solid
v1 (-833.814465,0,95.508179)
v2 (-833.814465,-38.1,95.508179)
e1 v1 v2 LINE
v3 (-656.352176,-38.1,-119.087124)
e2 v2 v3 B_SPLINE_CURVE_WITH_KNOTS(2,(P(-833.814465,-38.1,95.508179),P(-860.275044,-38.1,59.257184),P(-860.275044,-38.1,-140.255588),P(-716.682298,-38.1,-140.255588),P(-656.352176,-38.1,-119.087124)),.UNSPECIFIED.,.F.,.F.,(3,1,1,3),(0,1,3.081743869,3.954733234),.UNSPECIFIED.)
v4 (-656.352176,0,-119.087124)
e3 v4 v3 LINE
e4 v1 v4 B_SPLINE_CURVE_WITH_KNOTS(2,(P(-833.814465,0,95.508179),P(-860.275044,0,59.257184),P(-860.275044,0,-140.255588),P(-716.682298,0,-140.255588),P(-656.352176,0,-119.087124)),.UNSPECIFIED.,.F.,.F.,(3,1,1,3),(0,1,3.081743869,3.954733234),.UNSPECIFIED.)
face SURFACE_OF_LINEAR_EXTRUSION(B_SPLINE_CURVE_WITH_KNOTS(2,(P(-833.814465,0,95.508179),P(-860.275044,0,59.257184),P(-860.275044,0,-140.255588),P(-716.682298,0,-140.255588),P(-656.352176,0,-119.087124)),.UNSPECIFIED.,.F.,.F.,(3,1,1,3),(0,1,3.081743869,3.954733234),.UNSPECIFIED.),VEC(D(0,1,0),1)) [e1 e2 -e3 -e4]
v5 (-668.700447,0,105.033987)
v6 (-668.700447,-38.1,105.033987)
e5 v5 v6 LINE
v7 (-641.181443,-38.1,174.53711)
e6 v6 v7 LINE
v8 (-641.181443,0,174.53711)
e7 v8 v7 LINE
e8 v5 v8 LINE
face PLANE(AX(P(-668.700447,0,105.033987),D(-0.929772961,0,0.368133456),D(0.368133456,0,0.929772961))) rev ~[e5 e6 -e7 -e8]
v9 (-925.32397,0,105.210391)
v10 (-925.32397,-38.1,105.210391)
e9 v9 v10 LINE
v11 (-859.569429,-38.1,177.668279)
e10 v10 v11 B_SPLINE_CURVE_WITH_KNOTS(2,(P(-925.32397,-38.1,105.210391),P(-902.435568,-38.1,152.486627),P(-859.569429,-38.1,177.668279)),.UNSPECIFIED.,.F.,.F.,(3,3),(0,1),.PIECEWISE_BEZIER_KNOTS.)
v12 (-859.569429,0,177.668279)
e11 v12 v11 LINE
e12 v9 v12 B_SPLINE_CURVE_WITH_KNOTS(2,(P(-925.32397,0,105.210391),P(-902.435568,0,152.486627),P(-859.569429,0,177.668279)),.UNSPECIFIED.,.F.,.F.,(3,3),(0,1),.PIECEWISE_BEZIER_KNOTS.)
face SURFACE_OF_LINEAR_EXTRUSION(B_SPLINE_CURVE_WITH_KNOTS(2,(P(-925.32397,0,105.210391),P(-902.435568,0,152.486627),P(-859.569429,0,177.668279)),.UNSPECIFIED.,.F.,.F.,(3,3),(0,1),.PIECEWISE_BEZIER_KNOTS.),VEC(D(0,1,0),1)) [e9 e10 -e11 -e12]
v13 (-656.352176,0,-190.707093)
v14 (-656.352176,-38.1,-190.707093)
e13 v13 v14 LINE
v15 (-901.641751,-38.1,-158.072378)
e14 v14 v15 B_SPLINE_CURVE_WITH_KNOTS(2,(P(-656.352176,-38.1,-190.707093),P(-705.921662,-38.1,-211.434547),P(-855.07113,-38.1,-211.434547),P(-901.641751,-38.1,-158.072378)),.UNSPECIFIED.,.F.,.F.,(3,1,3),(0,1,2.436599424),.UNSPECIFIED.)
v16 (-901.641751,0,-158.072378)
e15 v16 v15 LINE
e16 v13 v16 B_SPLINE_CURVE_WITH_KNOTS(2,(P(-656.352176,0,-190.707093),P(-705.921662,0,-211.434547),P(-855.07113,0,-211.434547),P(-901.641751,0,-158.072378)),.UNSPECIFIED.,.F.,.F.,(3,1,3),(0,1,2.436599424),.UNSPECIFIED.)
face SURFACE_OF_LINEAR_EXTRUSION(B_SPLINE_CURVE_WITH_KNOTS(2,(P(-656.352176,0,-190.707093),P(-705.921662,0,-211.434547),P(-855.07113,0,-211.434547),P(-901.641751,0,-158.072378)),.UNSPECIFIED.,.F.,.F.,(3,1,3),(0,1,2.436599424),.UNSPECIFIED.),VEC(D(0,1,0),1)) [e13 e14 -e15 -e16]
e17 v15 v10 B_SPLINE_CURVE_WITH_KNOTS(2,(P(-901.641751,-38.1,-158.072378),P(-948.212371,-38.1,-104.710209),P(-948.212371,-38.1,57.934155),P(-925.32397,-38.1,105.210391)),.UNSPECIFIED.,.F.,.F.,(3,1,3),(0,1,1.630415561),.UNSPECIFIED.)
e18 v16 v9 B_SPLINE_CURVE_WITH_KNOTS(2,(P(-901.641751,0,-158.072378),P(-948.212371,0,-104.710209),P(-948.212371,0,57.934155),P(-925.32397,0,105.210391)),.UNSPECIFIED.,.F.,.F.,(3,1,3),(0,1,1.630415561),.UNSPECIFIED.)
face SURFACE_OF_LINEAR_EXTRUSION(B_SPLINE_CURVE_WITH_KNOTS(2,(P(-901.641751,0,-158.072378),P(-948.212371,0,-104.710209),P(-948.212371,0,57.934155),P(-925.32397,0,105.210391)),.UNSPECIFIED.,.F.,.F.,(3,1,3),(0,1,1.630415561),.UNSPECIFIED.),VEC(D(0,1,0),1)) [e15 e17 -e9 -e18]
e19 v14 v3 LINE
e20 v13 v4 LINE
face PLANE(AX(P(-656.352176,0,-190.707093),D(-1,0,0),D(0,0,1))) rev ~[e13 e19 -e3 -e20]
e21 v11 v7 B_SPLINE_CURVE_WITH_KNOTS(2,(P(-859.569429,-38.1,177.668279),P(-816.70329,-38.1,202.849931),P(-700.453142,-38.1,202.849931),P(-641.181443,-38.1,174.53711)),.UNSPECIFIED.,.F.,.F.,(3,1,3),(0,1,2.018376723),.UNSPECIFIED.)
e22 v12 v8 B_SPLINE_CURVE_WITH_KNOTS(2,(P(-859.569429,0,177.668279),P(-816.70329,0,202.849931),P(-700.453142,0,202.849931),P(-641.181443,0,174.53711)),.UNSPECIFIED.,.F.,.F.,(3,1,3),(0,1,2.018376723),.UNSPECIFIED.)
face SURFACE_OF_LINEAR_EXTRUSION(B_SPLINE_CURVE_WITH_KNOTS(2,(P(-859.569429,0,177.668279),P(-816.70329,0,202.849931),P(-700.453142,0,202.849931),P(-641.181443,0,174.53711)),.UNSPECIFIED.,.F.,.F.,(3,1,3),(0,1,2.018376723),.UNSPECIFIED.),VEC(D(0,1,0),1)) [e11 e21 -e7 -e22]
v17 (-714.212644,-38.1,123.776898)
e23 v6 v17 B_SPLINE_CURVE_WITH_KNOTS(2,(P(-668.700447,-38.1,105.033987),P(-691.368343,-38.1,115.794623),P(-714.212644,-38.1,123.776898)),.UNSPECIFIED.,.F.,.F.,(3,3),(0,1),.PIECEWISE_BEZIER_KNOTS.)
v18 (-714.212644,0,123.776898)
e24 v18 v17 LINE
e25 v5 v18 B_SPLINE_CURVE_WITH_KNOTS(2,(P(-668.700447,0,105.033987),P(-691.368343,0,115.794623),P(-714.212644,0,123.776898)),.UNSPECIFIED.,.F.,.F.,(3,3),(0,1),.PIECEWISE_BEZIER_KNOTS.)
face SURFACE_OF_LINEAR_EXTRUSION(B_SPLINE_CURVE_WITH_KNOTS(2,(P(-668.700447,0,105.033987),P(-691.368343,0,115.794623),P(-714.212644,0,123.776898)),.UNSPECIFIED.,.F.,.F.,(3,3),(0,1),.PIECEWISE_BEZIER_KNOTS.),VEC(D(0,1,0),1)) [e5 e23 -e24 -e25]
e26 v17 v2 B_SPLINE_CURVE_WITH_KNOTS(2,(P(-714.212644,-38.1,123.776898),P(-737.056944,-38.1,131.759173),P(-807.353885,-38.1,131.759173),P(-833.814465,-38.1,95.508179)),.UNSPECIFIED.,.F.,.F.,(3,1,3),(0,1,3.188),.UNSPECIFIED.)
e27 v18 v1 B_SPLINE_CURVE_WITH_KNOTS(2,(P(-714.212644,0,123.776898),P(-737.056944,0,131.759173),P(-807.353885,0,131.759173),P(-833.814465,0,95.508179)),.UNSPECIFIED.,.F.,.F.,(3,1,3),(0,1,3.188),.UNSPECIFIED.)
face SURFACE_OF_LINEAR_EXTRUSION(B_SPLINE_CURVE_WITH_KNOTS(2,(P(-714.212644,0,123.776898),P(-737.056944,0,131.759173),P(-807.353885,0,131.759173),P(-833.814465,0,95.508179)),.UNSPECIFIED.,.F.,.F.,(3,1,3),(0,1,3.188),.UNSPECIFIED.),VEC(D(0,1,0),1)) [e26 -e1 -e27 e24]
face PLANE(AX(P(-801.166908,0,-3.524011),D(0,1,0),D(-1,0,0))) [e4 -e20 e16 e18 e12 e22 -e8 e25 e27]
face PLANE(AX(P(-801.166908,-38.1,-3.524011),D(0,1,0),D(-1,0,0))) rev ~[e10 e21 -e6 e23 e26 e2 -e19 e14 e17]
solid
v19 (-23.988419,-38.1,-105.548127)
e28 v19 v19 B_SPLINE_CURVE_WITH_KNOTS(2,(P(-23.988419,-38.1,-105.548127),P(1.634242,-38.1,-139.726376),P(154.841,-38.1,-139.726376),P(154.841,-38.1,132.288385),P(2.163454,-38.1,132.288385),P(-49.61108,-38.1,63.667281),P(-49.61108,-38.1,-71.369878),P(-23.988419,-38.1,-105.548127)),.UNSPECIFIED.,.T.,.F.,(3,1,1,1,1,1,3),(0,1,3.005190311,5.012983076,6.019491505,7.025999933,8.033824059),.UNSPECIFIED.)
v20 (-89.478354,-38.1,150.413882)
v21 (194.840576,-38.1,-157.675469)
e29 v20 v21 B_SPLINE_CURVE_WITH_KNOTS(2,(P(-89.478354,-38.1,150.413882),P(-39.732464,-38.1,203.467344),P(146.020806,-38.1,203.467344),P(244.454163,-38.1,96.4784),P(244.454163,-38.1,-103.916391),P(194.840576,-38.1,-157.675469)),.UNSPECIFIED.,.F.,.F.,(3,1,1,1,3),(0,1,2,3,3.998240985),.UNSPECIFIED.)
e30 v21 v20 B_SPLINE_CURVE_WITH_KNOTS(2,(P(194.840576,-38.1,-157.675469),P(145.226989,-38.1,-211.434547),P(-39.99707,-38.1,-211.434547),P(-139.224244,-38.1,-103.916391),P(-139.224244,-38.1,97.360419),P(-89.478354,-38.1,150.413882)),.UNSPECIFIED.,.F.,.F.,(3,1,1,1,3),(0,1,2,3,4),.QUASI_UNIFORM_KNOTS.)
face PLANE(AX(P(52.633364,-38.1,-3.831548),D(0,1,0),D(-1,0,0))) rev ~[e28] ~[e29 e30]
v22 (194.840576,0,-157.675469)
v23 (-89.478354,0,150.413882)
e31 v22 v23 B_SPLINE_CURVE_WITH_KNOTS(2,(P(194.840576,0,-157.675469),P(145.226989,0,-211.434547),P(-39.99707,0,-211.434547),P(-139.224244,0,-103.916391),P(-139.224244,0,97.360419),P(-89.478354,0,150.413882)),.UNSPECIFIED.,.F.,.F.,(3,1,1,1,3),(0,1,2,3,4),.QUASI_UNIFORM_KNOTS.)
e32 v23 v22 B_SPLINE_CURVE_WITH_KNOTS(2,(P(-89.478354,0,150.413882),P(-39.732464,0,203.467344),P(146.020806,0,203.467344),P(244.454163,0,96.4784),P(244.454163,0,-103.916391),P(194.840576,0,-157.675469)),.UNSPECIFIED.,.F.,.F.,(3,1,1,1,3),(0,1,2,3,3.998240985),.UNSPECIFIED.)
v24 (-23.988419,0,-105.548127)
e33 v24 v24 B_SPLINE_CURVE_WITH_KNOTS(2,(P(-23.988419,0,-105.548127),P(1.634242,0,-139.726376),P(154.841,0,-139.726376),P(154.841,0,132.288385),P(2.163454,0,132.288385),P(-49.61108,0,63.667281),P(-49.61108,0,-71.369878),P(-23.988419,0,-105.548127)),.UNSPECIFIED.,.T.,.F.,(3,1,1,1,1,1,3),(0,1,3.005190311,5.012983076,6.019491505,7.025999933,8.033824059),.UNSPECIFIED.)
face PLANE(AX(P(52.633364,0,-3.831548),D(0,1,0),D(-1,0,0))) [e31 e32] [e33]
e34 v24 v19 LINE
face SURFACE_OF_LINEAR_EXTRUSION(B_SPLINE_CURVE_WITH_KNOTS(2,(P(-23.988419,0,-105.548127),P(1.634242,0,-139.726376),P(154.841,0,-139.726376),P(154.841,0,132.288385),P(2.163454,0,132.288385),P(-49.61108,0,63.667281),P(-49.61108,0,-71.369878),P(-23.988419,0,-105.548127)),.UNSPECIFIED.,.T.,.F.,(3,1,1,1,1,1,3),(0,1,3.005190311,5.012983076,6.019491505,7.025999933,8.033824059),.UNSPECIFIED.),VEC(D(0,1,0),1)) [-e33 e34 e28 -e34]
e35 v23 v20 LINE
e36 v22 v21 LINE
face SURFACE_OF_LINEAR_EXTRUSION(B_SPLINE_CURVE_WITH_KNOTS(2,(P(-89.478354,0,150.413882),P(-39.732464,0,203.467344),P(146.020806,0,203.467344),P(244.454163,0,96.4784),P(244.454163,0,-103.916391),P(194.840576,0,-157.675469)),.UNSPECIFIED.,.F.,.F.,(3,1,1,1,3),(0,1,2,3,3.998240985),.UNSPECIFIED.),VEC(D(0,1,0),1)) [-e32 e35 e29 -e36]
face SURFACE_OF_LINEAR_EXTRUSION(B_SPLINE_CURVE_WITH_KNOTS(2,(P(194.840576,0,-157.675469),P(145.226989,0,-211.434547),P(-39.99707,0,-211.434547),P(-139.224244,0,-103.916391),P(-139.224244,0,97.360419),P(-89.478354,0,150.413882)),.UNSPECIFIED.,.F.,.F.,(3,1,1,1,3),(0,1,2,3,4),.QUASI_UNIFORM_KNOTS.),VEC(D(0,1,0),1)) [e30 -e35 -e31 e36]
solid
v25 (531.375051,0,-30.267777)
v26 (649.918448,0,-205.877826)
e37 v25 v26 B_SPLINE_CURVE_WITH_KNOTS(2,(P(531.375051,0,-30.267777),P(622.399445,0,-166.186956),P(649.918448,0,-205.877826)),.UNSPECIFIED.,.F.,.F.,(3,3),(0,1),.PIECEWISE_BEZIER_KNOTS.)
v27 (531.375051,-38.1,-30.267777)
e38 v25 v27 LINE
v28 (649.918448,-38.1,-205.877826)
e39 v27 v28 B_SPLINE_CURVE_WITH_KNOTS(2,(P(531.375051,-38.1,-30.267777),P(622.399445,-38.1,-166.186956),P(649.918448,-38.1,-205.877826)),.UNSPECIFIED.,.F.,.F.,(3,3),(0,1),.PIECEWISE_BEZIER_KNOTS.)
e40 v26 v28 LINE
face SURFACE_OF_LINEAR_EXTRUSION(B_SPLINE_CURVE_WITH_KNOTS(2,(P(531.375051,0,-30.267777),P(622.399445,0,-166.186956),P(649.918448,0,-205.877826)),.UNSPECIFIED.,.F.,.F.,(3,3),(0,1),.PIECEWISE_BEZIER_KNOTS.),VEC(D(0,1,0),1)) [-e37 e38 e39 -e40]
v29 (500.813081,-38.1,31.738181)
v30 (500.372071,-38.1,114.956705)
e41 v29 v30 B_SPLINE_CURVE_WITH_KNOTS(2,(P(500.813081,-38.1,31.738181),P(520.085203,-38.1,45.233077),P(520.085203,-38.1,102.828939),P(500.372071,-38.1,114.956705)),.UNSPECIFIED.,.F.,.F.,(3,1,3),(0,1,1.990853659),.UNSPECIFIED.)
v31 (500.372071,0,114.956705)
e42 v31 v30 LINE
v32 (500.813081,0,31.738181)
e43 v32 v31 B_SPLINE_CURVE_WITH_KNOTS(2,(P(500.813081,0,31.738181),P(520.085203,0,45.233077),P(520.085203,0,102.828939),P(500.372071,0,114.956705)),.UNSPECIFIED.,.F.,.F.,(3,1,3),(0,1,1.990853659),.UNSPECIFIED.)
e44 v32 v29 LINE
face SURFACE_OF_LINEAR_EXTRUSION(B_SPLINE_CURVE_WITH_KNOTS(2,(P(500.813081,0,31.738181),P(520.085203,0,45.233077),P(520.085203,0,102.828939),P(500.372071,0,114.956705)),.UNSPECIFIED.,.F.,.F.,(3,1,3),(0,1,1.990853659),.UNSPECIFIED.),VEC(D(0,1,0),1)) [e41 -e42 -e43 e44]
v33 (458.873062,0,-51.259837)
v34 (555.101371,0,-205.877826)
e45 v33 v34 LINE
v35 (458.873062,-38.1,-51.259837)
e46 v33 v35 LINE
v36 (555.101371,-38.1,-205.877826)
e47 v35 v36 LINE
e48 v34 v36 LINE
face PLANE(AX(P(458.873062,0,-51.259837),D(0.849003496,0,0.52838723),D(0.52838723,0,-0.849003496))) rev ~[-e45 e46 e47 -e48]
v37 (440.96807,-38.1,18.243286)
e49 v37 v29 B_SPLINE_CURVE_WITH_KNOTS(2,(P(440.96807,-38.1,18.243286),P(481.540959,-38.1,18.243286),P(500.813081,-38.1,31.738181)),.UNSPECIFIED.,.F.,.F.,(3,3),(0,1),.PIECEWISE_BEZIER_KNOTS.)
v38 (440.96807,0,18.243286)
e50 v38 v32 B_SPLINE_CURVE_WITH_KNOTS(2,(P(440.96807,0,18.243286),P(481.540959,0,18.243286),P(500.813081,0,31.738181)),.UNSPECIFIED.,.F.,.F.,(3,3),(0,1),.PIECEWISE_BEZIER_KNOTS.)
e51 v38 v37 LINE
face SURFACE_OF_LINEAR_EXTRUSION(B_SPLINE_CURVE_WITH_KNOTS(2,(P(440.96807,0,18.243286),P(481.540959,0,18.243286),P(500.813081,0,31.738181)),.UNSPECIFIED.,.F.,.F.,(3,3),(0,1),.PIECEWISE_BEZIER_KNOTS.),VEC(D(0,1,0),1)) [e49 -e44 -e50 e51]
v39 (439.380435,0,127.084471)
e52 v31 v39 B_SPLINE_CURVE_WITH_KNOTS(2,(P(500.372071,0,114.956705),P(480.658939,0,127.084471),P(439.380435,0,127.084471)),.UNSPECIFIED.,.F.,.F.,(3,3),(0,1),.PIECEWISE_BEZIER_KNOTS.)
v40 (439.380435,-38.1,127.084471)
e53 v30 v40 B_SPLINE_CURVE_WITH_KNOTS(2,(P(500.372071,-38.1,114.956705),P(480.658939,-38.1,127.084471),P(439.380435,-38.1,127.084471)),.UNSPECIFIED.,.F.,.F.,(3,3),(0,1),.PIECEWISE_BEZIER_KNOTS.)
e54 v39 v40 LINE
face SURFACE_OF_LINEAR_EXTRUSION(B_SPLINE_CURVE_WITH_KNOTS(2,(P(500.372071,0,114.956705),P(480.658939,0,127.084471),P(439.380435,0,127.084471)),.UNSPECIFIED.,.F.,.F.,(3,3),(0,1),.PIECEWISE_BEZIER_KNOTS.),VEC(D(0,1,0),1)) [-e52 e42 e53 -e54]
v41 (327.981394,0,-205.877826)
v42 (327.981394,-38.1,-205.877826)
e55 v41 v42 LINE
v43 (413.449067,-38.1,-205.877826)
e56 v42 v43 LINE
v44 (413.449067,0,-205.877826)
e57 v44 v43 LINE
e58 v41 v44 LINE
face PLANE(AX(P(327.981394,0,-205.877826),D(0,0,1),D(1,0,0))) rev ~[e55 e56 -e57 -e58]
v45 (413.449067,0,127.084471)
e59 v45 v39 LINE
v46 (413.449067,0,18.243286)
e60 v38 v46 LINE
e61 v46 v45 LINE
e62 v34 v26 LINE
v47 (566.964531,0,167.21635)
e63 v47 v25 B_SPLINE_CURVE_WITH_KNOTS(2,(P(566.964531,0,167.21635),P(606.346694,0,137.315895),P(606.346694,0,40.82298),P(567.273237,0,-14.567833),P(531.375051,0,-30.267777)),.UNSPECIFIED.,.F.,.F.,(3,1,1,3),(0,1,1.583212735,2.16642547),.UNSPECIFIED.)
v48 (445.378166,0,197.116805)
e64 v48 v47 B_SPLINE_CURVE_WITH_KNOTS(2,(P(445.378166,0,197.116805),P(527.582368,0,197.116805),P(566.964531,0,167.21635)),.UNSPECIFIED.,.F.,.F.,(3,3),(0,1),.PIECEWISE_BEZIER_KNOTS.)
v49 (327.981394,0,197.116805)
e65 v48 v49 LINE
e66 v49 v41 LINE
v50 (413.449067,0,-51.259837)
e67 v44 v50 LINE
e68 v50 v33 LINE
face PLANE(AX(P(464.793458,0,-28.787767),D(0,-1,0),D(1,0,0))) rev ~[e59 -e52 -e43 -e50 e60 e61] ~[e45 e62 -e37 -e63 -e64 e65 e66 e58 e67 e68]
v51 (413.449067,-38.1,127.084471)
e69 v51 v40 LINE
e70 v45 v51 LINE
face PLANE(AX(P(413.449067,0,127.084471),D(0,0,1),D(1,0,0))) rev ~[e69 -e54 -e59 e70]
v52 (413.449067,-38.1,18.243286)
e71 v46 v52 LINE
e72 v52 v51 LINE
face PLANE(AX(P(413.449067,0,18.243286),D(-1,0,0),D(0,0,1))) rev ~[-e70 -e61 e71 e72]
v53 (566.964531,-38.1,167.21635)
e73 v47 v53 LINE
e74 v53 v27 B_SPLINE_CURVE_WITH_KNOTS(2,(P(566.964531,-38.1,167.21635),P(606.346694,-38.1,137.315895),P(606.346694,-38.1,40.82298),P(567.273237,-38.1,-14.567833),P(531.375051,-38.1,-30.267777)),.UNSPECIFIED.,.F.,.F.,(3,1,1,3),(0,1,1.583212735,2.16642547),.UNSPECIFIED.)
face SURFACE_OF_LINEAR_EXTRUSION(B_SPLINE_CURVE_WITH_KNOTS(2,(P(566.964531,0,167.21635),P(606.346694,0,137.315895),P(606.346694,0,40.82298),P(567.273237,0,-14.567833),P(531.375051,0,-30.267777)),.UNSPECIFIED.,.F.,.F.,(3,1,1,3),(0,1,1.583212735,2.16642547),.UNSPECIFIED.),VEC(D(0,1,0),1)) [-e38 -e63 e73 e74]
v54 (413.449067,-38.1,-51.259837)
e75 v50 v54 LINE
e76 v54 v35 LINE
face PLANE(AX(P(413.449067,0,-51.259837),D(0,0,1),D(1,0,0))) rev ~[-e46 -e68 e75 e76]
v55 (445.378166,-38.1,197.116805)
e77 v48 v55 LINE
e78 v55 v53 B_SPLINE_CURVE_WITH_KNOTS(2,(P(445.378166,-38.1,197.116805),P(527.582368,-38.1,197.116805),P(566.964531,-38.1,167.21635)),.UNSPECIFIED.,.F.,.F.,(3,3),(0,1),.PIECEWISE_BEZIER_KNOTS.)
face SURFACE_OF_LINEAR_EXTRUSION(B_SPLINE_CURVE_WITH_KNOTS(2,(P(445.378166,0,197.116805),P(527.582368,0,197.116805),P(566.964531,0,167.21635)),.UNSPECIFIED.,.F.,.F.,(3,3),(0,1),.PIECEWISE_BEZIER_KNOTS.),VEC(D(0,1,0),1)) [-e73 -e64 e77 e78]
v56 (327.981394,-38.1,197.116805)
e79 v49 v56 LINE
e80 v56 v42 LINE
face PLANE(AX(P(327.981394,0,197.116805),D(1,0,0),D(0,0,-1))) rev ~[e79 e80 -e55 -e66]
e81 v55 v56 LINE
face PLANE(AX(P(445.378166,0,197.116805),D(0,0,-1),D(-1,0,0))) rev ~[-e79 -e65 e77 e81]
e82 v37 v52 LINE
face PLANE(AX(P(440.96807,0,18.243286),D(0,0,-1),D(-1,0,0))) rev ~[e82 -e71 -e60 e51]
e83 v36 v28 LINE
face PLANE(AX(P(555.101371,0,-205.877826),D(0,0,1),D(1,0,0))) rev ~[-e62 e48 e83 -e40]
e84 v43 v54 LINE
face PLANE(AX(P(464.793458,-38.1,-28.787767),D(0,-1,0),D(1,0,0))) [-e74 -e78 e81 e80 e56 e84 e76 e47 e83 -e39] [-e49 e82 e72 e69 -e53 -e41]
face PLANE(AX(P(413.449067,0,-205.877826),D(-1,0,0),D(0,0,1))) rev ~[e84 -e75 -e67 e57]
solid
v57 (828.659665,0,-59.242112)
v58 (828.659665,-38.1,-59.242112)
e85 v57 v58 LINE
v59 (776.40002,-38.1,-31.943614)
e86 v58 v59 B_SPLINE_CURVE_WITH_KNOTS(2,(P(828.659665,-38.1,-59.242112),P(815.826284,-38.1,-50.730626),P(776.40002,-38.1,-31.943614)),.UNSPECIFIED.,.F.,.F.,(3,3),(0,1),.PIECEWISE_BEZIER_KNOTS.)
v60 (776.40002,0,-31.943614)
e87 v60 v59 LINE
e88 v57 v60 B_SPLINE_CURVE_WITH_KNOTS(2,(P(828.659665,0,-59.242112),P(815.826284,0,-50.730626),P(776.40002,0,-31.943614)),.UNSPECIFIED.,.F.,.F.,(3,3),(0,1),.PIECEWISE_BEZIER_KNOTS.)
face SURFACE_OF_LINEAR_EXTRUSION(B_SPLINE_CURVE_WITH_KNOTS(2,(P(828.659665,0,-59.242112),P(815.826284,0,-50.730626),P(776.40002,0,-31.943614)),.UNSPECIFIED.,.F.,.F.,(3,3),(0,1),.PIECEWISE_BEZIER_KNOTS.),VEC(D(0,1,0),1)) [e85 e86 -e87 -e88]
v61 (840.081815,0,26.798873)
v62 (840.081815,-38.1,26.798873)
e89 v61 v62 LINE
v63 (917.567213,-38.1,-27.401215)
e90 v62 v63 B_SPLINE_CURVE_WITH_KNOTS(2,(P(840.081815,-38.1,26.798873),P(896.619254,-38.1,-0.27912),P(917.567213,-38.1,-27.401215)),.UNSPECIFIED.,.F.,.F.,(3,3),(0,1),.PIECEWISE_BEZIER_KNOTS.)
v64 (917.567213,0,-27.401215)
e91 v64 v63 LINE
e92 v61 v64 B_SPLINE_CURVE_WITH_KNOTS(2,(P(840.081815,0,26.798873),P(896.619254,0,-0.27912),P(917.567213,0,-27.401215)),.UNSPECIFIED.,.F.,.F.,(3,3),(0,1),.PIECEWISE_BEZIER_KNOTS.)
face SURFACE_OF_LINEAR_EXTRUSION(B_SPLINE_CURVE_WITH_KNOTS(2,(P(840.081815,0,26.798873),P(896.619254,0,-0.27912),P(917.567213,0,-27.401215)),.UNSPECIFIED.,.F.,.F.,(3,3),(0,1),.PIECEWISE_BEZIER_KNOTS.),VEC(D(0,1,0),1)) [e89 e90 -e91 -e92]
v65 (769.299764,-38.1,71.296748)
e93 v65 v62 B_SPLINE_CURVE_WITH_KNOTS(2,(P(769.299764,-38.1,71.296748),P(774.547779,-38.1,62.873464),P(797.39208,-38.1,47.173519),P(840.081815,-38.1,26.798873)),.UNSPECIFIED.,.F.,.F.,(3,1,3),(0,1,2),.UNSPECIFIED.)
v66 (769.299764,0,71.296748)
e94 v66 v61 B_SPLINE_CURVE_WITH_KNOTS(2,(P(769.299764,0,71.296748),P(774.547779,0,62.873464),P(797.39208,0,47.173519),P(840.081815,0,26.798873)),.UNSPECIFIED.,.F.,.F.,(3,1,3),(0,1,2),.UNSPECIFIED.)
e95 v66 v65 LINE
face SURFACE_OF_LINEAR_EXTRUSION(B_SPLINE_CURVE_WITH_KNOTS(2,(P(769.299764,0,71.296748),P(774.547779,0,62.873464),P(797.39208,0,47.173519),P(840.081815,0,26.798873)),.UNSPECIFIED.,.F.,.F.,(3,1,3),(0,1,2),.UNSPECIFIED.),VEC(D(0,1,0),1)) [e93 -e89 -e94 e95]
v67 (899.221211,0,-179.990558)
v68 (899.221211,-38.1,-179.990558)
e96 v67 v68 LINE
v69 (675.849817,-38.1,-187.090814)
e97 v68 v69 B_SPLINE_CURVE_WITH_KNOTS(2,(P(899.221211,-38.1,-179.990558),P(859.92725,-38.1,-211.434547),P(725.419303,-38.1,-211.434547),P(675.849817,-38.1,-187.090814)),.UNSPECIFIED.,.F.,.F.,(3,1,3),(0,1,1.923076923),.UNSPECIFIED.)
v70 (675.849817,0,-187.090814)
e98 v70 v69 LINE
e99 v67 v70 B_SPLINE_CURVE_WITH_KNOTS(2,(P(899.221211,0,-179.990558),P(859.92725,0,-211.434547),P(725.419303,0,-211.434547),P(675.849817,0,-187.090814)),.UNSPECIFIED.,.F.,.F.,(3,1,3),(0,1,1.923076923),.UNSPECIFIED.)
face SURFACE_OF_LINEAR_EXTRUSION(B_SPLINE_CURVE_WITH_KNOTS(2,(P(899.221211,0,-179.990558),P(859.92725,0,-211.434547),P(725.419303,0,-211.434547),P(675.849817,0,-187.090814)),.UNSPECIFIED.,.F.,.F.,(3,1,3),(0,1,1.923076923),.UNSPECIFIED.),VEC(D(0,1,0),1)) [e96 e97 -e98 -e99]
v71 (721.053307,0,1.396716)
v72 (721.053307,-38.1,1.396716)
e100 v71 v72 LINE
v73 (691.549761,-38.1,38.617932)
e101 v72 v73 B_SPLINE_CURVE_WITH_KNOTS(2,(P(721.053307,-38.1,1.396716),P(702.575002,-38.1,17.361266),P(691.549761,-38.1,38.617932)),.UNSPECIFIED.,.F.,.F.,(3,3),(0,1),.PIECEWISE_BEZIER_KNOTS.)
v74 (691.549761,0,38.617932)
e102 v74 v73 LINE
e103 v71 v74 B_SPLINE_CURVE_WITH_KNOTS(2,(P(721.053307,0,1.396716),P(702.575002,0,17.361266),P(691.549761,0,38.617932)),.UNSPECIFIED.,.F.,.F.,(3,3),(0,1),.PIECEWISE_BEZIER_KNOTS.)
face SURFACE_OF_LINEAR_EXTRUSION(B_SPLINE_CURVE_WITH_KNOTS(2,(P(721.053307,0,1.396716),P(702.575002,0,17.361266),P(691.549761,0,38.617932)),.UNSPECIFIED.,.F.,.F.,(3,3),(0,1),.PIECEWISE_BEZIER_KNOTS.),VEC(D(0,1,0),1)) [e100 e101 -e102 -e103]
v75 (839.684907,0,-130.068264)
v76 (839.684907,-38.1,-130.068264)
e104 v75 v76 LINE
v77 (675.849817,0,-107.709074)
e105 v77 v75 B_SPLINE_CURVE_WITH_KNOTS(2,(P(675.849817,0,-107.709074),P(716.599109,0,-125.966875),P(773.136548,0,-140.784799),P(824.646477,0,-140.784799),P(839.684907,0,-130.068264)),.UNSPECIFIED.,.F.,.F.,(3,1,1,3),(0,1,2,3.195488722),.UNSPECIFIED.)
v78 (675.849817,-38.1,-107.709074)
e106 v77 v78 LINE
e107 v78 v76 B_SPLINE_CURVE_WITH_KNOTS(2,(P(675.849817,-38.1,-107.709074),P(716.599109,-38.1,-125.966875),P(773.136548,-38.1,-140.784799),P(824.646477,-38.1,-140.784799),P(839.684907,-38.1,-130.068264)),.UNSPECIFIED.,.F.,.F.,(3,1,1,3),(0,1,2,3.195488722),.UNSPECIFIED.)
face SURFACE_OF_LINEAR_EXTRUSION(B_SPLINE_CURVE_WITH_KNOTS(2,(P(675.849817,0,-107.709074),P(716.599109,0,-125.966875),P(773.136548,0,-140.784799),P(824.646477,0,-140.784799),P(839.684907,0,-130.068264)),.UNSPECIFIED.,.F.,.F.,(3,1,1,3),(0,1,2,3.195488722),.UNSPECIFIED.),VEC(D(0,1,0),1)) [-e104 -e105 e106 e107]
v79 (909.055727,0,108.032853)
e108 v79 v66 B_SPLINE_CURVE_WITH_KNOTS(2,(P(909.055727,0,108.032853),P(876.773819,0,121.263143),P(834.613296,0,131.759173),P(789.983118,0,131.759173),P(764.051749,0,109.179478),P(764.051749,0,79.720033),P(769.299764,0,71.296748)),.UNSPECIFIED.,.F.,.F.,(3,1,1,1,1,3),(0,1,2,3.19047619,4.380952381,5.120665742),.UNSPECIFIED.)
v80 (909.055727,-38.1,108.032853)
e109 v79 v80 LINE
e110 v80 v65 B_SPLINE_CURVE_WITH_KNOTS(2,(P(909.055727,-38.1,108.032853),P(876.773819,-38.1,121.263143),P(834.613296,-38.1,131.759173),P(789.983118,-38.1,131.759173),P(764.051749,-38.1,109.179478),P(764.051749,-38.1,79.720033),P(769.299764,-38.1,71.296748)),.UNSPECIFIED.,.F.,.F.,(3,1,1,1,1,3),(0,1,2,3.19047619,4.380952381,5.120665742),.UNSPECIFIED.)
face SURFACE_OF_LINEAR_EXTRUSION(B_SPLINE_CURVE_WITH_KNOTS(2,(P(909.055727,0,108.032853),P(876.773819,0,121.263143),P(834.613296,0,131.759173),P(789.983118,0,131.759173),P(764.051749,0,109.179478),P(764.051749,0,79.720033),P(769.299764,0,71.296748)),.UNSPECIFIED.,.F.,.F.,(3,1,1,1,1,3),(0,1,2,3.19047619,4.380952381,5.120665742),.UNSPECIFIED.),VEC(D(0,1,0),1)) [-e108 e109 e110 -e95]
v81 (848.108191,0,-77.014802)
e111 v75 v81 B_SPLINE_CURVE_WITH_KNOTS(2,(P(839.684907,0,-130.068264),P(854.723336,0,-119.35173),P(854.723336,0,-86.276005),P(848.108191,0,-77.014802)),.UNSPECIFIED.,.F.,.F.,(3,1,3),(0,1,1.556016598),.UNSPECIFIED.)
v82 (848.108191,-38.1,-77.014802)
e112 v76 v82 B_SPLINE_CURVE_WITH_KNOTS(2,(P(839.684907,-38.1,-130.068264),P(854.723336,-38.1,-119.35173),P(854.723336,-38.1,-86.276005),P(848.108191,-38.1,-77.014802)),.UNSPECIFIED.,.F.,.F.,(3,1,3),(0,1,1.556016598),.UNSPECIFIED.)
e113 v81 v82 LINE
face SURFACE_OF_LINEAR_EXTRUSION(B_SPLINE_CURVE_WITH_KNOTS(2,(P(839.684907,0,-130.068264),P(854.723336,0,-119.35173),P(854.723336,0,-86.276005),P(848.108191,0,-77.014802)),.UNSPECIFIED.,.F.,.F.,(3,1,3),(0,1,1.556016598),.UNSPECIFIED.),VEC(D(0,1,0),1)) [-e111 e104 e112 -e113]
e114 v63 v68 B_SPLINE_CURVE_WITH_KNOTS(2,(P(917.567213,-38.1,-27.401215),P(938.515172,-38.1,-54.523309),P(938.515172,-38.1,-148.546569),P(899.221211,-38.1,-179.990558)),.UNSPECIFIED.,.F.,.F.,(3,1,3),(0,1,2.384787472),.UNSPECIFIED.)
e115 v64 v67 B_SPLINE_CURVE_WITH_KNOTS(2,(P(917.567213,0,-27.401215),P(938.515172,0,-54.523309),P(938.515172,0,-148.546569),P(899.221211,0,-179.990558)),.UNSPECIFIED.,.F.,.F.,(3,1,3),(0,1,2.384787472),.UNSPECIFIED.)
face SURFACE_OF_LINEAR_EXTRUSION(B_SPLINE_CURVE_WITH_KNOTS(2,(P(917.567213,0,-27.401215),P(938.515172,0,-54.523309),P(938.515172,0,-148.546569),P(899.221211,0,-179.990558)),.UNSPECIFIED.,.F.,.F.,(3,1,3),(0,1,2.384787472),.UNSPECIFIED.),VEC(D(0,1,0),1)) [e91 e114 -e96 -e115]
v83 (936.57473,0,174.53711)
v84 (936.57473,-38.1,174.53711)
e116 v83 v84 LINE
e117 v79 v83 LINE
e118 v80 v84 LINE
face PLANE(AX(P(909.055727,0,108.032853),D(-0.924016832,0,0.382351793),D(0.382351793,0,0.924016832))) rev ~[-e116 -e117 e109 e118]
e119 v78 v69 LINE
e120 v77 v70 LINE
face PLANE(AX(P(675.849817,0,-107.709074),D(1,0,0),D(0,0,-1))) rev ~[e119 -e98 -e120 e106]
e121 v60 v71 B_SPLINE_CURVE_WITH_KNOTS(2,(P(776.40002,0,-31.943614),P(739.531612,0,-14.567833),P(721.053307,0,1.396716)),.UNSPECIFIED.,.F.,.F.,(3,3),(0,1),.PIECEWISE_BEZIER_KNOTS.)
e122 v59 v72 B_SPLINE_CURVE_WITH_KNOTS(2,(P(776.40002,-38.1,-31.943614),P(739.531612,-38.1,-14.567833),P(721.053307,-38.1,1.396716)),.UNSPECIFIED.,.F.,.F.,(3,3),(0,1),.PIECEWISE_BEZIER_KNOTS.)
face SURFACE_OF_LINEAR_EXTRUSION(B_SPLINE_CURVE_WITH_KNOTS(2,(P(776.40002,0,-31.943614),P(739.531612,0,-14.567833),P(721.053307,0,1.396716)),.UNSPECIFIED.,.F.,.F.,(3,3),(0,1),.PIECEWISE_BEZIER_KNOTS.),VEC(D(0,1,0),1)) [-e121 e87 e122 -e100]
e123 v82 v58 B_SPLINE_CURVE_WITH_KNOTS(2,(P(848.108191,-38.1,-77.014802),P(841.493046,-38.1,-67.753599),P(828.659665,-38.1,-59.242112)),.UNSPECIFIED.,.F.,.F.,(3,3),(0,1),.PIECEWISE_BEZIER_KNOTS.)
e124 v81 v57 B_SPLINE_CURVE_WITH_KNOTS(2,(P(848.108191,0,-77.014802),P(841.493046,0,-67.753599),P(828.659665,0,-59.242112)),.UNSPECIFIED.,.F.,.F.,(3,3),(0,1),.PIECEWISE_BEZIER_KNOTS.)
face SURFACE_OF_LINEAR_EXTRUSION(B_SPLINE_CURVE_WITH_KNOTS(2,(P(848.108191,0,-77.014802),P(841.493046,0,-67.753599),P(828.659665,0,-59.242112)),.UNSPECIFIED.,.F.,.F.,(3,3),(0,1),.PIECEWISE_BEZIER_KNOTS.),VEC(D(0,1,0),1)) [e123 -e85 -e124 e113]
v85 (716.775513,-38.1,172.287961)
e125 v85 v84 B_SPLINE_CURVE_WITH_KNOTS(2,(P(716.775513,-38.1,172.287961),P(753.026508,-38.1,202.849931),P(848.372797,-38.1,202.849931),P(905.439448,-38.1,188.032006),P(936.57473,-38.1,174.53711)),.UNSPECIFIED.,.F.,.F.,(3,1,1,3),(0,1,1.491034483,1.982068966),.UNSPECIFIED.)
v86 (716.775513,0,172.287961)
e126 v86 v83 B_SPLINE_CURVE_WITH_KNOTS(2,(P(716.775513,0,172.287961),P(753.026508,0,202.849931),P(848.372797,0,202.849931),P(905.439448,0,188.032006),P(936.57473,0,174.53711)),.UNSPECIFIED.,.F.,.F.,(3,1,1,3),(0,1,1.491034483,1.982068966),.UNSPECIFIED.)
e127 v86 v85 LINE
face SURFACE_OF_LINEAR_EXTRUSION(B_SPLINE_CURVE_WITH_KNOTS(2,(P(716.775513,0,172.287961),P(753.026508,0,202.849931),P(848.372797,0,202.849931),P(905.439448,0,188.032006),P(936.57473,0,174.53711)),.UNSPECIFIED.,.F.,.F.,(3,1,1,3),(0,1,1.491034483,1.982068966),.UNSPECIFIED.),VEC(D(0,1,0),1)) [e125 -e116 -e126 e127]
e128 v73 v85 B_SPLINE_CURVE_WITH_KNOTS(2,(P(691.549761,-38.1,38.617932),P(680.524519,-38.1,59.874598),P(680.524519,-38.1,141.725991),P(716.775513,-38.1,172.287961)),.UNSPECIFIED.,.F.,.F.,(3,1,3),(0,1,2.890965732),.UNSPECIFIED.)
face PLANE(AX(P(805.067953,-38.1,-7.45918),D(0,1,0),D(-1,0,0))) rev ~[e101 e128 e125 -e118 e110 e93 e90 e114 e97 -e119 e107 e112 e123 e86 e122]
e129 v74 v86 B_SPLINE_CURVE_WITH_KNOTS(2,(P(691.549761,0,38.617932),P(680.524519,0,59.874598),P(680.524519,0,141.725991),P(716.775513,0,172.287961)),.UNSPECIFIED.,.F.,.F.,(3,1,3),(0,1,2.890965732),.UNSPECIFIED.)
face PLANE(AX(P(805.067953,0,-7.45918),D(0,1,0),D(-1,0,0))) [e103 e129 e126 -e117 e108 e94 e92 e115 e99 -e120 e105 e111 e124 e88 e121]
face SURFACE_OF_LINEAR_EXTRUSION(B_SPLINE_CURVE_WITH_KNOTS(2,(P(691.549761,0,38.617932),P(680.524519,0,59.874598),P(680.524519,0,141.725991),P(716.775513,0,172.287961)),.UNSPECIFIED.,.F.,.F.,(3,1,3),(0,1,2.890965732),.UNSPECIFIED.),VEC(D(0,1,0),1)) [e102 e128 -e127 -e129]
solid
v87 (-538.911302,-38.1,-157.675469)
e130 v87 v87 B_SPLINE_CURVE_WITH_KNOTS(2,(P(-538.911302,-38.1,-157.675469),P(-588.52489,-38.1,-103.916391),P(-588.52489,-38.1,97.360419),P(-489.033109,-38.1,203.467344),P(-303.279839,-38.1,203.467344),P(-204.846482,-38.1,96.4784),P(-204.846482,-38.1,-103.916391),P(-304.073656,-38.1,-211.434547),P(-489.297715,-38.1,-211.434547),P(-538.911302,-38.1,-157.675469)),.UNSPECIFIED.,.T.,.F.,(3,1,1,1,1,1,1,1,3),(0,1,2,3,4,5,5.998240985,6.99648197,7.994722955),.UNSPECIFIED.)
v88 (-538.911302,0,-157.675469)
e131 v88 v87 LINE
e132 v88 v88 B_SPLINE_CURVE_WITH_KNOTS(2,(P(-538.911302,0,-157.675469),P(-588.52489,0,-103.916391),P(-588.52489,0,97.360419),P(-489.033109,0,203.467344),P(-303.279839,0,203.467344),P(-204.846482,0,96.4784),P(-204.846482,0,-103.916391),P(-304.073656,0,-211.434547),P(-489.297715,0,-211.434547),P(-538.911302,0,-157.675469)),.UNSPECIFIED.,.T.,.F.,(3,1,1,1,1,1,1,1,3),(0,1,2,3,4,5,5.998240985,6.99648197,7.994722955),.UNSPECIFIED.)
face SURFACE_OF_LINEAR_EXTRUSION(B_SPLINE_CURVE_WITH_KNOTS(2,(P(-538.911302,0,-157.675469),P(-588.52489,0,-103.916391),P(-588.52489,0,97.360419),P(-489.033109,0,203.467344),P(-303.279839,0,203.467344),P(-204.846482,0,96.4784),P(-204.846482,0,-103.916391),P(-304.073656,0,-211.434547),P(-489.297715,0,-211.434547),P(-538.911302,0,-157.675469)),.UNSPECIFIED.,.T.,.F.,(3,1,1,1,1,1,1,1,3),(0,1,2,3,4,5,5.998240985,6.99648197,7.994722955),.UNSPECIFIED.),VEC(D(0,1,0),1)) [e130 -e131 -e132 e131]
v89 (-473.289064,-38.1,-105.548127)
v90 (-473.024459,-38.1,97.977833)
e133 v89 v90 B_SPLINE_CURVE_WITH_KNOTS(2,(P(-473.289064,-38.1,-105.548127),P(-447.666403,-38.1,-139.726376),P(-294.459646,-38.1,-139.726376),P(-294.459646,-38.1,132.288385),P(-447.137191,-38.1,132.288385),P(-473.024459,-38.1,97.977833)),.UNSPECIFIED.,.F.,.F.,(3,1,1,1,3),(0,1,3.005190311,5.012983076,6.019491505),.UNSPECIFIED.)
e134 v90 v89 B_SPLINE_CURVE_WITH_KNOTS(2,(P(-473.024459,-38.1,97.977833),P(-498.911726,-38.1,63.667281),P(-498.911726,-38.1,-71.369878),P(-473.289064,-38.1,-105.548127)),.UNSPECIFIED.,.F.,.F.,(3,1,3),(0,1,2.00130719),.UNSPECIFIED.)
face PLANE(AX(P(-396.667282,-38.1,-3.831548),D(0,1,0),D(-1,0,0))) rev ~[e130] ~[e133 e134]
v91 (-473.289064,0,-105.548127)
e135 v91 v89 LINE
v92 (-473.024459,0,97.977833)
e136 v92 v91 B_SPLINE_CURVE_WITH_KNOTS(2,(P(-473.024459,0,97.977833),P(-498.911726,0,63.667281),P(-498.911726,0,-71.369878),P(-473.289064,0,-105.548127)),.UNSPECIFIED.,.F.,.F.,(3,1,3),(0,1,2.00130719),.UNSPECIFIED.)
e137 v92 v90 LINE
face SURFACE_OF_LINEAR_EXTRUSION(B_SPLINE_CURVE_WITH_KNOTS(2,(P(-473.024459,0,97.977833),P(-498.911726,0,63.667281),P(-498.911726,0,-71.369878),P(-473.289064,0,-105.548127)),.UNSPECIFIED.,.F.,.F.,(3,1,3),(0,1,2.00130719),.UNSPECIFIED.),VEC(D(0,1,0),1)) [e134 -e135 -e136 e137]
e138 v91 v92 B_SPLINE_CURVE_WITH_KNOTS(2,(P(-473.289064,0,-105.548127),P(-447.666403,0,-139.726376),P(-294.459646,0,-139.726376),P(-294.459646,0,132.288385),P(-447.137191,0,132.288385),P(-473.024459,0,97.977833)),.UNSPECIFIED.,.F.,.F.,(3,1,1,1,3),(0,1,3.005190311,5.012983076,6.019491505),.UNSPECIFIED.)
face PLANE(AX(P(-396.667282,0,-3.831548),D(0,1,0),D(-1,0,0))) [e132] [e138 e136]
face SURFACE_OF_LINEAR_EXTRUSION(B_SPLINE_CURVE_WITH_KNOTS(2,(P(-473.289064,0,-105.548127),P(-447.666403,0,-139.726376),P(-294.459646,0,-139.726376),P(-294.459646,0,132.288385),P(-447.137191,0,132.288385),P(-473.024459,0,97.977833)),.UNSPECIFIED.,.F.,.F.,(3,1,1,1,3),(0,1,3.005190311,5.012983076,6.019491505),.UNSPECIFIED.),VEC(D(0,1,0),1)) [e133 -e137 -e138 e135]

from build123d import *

# Parameters (mm, degrees)
F1_DEPTH = 38.1
F2_DEPTH = 38.1
F3_DEPTH = 38.1


with BuildPart() as f1:
    # F0 (on Front) → F1 (new body)
    with BuildSketch(Plane.XZ):
        with BuildLine():
            add(Edge.make_bspline(
                [(-759.1074275939, 131.759173004), (-807.353884816, 131.759173004), (-833.8144646453, 95.5081786378)],
                knots=[0, 0, 0, 1, 1, 1], degree=2))
            add(Edge.make_bspline(
                [(-714.2126438169, 123.7768980888), (-737.0569444029, 131.759173004), (-759.1074275939, 131.759173004)],
                knots=[0, 0, 0, 1, 1, 1], degree=2))
            add(Edge.make_bspline(
                [(-668.7004465105, 105.0339873764), (-691.368343231, 115.7946231736), (-714.2126438169, 123.7768980888)],
                knots=[0, 0, 0, 1, 1, 1], degree=2))
            Line((-668.7004465105, 105.0339873764), (-641.1814434881, 174.5371103946))
            add(Edge.make_bspline(
                [(-759.1074275939, 202.849930812), (-700.4531423057, 202.849930812), (-641.1814434881, 174.5371103946)],
                knots=[0, 0, 0, 1, 1, 1], degree=2))
            add(Edge.make_bspline(
                [(-859.5694290125, 177.6682790078), (-816.703289689, 202.849930812), (-759.1074275939, 202.849930812)],
                knots=[0, 0, 0, 1, 1, 1], degree=2))
            add(Edge.make_bspline(
                [(-925.3239698883, 105.2103912419), (-902.4355683359, 152.4866272036), (-859.5694290125, 177.6682790078)],
                knots=[0, 0, 0, 1, 1, 1], degree=2))
            add(Edge.make_bspline(
                [(-948.2123714406, -4.9538227807), (-948.2123714406, 57.9341552802), (-925.3239698883, 105.2103912419)],
                knots=[0, 0, 0, 1, 1, 1], degree=2))
            add(Edge.make_bspline(
                [(-901.6417509411, -158.0723780595), (-948.2123714406, -104.7102087371), (-948.2123714406, -4.9538227807)],
                knots=[0, 0, 0, 1, 1, 1], degree=2))
            add(Edge.make_bspline(
                [(-767.1338034755, -211.4345473819), (-855.0711304415, -211.4345473819), (-901.6417509411, -158.0723780595)],
                knots=[0, 0, 0, 1, 1, 1], degree=2))
            add(Edge.make_bspline(
                [(-656.3521759235, -190.7070931823), (-705.9216621371, -211.4345473819), (-767.1338034755, -211.4345473819)],
                knots=[0, 0, 0, 1, 1, 1], degree=2))
            Line((-656.3521759235, -190.7070931823), (-656.3521759235, -119.0871237777))
            add(Edge.make_bspline(
                [(-759.1074275939, -140.2555876411), (-716.6822979343, -140.2555876411), (-656.3521759235, -119.0871237777)],
                knots=[0, 0, 0, 1, 1, 1], degree=2))
            add(Edge.make_bspline(
                [(-860.2750444746, -5.4830343773), (-860.2750444746, -140.2555876411), (-759.1074275939, -140.2555876411)],
                knots=[0, 0, 0, 1, 1, 1], degree=2))
            add(Edge.make_bspline(
                [(-833.8144646453, 95.5081786378), (-860.2750444746, 59.2571842717), (-860.2750444746, -5.4830343773)],
                knots=[0, 0, 0, 1, 1, 1], degree=2))
        make_face()
    extrude(amount=F1_DEPTH)


with BuildPart() as f2:
    # F0 (on Front) → F2 (new body)
    with BuildSketch(Plane.XZ):
        with BuildLine():
            add(Edge.make_bspline(
                [(-204.8464821031, -3.8071976548), (-204.8464821031, -103.9163913423), (-254.460069283, -157.6754693621)],
                knots=[0, 0, 0, 1, 1, 1], degree=2))
            add(Edge.make_bspline(
                [(-254.0631605856, 149.9728721198), (-204.8464821031, 96.4783998982), (-204.8464821031, -3.8071976548)],
                knots=[0, 0, 0, 1, 1, 1], degree=2))
            add(Edge.make_bspline(
                [(-396.1564742688, 203.4673443413), (-303.279839068, 203.4673443413), (-254.0631605856, 149.9728721198)],
                knots=[0, 0, 0, 1, 1, 1], degree=2))
            add(Edge.make_bspline(
                [(-538.7789995487, 150.4138817836), (-489.0331094696, 203.4673443413), (-396.1564742688, 203.4673443413)],
                knots=[0, 0, 0, 1, 1, 1], degree=2))
            add(Edge.make_bspline(
                [(-588.5248896278, -3.2779860582), (-588.5248896278, 97.3604192259), (-538.7789995487, 150.4138817836)],
                knots=[0, 0, 0, 1, 1, 1], degree=2))
            add(Edge.make_bspline(
                [(-538.9113024479, -157.6754693621), (-588.5248896278, -103.9163913423), (-588.5248896278, -3.2779860582)],
                knots=[0, 0, 0, 1, 1, 1], degree=2))
            add(Edge.make_bspline(
                [(-396.6856858654, -211.4345473819), (-489.2977152679, -211.4345473819), (-538.9113024479, -157.6754693621)],
                knots=[0, 0, 0, 1, 1, 1], degree=2))
            add(Edge.make_bspline(
                [(-254.460069283, -157.6754693621), (-304.0736564629, -211.4345473819), (-396.6856858654, -211.4345473819)],
                knots=[0, 0, 0, 1, 1, 1], degree=2))
        make_face()
        with BuildLine():
            add(Edge.make_bspline(
                [(-498.9117259393, -3.8071976548), (-498.9117259393, -71.3698781522), (-473.2890644712, -105.5481270984)],
                knots=[0, 0, 0, 1, 1, 1], degree=2))
            add(Edge.make_bspline(
                [(-473.0244586729, 97.9778327552), (-498.9117259393, 63.6672809099), (-498.9117259393, -3.8071976548)],
                knots=[0, 0, 0, 1, 1, 1], degree=2))
            add(Edge.make_bspline(
                [(-396.1564742688, 132.2883846005), (-447.1371914066, 132.2883846005), (-473.0244586729, 97.9778327552)],
                knots=[0, 0, 0, 1, 1, 1], degree=2))
            add(Edge.make_bspline(
                [(-294.4596457916, -3.8071976548), (-294.4596457916, 132.2883846005), (-396.1564742688, 132.2883846005)],
                knots=[0, 0, 0, 1, 1, 1], degree=2))
            add(Edge.make_bspline(
                [(-396.6856858654, -139.7263760446), (-294.4596457916, -139.7263760446), (-294.4596457916, -3.8071976548)],
                knots=[0, 0, 0, 1, 1, 1], degree=2))
            add(Edge.make_bspline(
                [(-473.2890644712, -105.5481270984), (-447.6664030032, -139.7263760446), (-396.6856858654, -139.7263760446)],
                knots=[0, 0, 0, 1, 1, 1], degree=2))
        make_face(mode=Mode.SUBTRACT)
    extrude(amount=F2_DEPTH)


with BuildPart() as f3:
    # F0 (on Front) → F3 (new body)
    with BuildSketch(Plane.XZ):
        with BuildLine():
            add(Edge.make_bspline(
                [(244.4541633983, -3.8071976548), (244.4541633983, -103.9163913423), (194.8405762184, -157.6754693621)],
                knots=[0, 0, 0, 1, 1, 1], degree=2))
            add(Edge.make_bspline(
                [(195.2374849158, 149.9728721198), (244.4541633983, 96.4783998982), (244.4541633983, -3.8071976548)],
                knots=[0, 0, 0, 1, 1, 1], degree=2))
            add(Edge.make_bspline(
                [(53.1441712325, 203.4673443413), (146.0208064333, 203.4673443413), (195.2374849158, 149.9728721198)],
                knots=[0, 0, 0, 1, 1, 1], degree=2))
            add(Edge.make_bspline(
                [(-89.4783540474, 150.4138817836), (-39.7324639683, 203.4673443413), (53.1441712325, 203.4673443413)],
                knots=[0, 0, 0, 1, 1, 1], degree=2))
            add(Edge.make_bspline(
                [(-139.2242441264, -3.2779860582), (-139.2242441264, 97.3604192259), (-89.4783540474, 150.4138817836)],
                knots=[0, 0, 0, 1, 1, 1], degree=2))
            add(Edge.make_bspline(
                [(-89.6106569465, -157.6754693621), (-139.2242441264, -103.9163913423), (-139.2242441264, -3.2779860582)],
                knots=[0, 0, 0, 1, 1, 1], degree=2))
            add(Edge.make_bspline(
                [(52.6149596359, -211.4345473819), (-39.9970697666, -211.4345473819), (-89.6106569465, -157.6754693621)],
                knots=[0, 0, 0, 1, 1, 1], degree=2))
            add(Edge.make_bspline(
                [(194.8405762184, -157.6754693621), (145.2269890384, -211.4345473819), (52.6149596359, -211.4345473819)],
                knots=[0, 0, 0, 1, 1, 1], degree=2))
        make_face()
        with BuildLine():
            add(Edge.make_bspline(
                [(-49.6110804379, -3.8071976548), (-49.6110804379, -71.3698781522), (-23.9884189699, -105.5481270984)],
                knots=[0, 0, 0, 1, 1, 1], degree=2))
            add(Edge.make_bspline(
                [(-23.7238131716, 97.9778327552), (-49.6110804379, 63.6672809099), (-49.6110804379, -3.8071976548)],
                knots=[0, 0, 0, 1, 1, 1], degree=2))
            add(Edge.make_bspline(
                [(53.1441712325, 132.2883846005), (2.1634540947, 132.2883846005), (-23.7238131716, 97.9778327552)],
                knots=[0, 0, 0, 1, 1, 1], degree=2))
            add(Edge.make_bspline(
                [(154.8409997098, -3.8071976548), (154.8409997098, 132.2883846005), (53.1441712325, 132.2883846005)],
                knots=[0, 0, 0, 1, 1, 1], degree=2))
            add(Edge.make_bspline(
                [(52.6149596359, -139.7263760446), (154.8409997098, -139.7263760446), (154.8409997098, -3.8071976548)],
                knots=[0, 0, 0, 1, 1, 1], degree=2))
            add(Edge.make_bspline(
                [(-23.9884189699, -105.5481270984), (1.6342424982, -139.7263760446), (52.6149596359, -139.7263760446)],
                knots=[0, 0, 0, 1, 1, 1], degree=2))
        make_face(mode=Mode.SUBTRACT)
        with BuildLine():
            Line((413.4490665747, -205.8778256178), (413.4490665747, -51.259837482))
            Line((413.4490665747, -51.259837482), (458.8730619483, -51.259837482))
            Line((458.8730619483, -51.259837482), (555.1013705942, -205.8778256178))
            Line((555.1013705942, -205.8778256178), (649.9184483158, -205.8778256178))
            add(Edge.make_bspline(
                [(531.3750506806, -30.2677774841), (622.3994452933, -166.1869558739), (649.9184483158, -205.8778256178)],
                knots=[0, 0, 0, 1, 1, 1], degree=2))
            add(Edge.make_bspline(
                [(586.8099654229, 13.127573436), (567.2732373156, -14.567833452), (531.3750506806, -30.2677774841)],
                knots=[0, 0, 0, 1, 1, 1], degree=2))
            add(Edge.make_bspline(
                [(606.3466935302, 76.368359228), (606.3466935302, 40.822980324), (586.8099654229, 13.127573436)],
                knots=[0, 0, 0, 1, 1, 1], degree=2))
            add(Edge.make_bspline(
                [(566.964530551, 167.2163499752), (606.3466935302, 137.3158947681), (606.3466935302, 76.368359228)],
                knots=[0, 0, 0, 1, 1, 1], degree=2))
            add(Edge.make_bspline(
                [(445.3781662354, 197.1168051823), (527.5823675717, 197.1168051823), (566.964530551, 167.2163499752)],
                knots=[0, 0, 0, 1, 1, 1], degree=2))
            Line((445.3781662354, 197.1168051823), (327.9813937261, 197.1168051823))
            Line((327.9813937261, 197.1168051823), (327.9813937261, -205.8778256178))
            Line((327.9813937261, -205.8778256178), (413.4490665747, -205.8778256178))
        make_face()
        with BuildLine():
            Line((440.9680695971, 18.2432855363), (413.4490665747, 18.2432855363))
            Line((413.4490665747, 18.2432855363), (413.4490665747, 127.0844705674))
            Line((413.4490665747, 127.0844705674), (439.3804348074, 127.0844705674))
            add(Edge.make_bspline(
                [(500.3720713139, 114.9567048124), (480.6589393411, 127.0844705674), (439.3804348074, 127.0844705674)],
                knots=[0, 0, 0, 1, 1, 1], degree=2))
            add(Edge.make_bspline(
                [(520.0852032867, 74.1633109089), (520.0852032867, 102.8289390573), (500.3720713139, 114.9567048124)],
                knots=[0, 0, 0, 1, 1, 1], degree=2))
            add(Edge.make_bspline(
                [(500.8130809777, 31.7381812492), (520.0852032867, 45.2330769622), (520.0852032867, 74.1633109089)],
                knots=[0, 0, 0, 1, 1, 1], degree=2))
            add(Edge.make_bspline(
                [(440.9680695971, 18.2432855363), (481.5409586687, 18.2432855363), (500.8130809777, 31.7381812492)],
                knots=[0, 0, 0, 1, 1, 1], degree=2))
        make_face(mode=Mode.SUBTRACT)
        with BuildLine():
            add(Edge.make_bspline(
                [(938.5151723206, -93.9495729399), (938.5151723206, -148.546569321), (899.2212112741, -179.9905583515)],
                knots=[0, 0, 0, 1, 1, 1], degree=2))
            add(Edge.make_bspline(
                [(917.5672132891, -27.4012146692), (938.5151723206, -54.5233089942), (938.5151723206, -93.9495729399)],
                knots=[0, 0, 0, 1, 1, 1], degree=2))
            add(Edge.make_bspline(
                [(840.0818153556, 26.7988730144), (896.6192542575, -0.2791203442), (917.5672132891, -27.4012146692)],
                knots=[0, 0, 0, 1, 1, 1], degree=2))
            add(Edge.make_bspline(
                [(785.9699296047, 55.023491499), (797.3920798977, 47.173519483), (840.0818153556, 26.7988730144)],
                knots=[0, 0, 0, 1, 1, 1], degree=2))
            add(Edge.make_bspline(
                [(769.2997643123, 71.296748094), (774.5477793117, 62.873463515), (785.9699296047, 55.023491499)],
                knots=[0, 0, 0, 1, 1, 1], degree=2))
            add(Edge.make_bspline(
                [(764.0517493128, 91.0098800668), (764.0517493128, 79.720032673), (769.2997643123, 71.296748094)],
                knots=[0, 0, 0, 1, 1, 1], degree=2))
            add(Edge.make_bspline(
                [(777.0174334291, 120.4693256101), (764.0517493128, 109.1794782163), (764.0517493128, 91.0098800668)],
                knots=[0, 0, 0, 1, 1, 1], degree=2))
            add(Edge.make_bspline(
                [(814.2386490557, 131.759173004), (789.9831175455, 131.759173004), (777.0174334291, 120.4693256101)],
                knots=[0, 0, 0, 1, 1, 1], degree=2))
            add(Edge.make_bspline(
                [(855.6935574549, 126.5111580045), (834.6132955242, 131.759173004), (814.2386490557, 131.759173004)],
                knots=[0, 0, 0, 1, 1, 1], degree=2))
            add(Edge.make_bspline(
                [(909.0557267773, 108.0328530904), (876.7738193856, 121.263143005), (855.6935574549, 126.5111580045)],
                knots=[0, 0, 0, 1, 1, 1], degree=2))
            Line((909.0557267773, 108.0328530904), (936.5747297998, 174.5371103946))
            add(Edge.make_bspline(
                [(876.9061222847, 195.4409684598), (905.439447534, 188.0320061076), (936.5747297998, 174.5371103946)],
                knots=[0, 0, 0, 1, 1, 1], degree=2))
            add(Edge.make_bspline(
                [(816.9729089714, 202.849930812), (848.3727970355, 202.849930812), (876.9061222847, 195.4409684598)],
                knots=[0, 0, 0, 1, 1, 1], degree=2))
            add(Edge.make_bspline(
                [(716.7755133511, 172.2879611092), (753.0265077172, 202.849930812), (816.9729089714, 202.849930812)],
                knots=[0, 0, 0, 1, 1, 1], degree=2))
            add(Edge.make_bspline(
                [(680.524518985, 88.1874182184), (680.524518985, 141.7259914063), (716.7755133511, 172.2879611092)],
                knots=[0, 0, 0, 1, 1, 1], degree=2))
            add(Edge.make_bspline(
                [(691.5497605805, 38.6179320049), (680.524518985, 59.8745978011), (680.524518985, 88.1874182184)],
                knots=[0, 0, 0, 1, 1, 1], degree=2))
            add(Edge.make_bspline(
                [(721.0533070902, 1.3967163783), (702.5750021761, 17.3612662087), (691.5497605805, 38.6179320049)],
                knots=[0, 0, 0, 1, 1, 1], degree=2))
            add(Edge.make_bspline(
                [(776.4000198998, -31.9436142066), (739.5316120043, -14.567833452), (721.0533070902, 1.3967163783)],
                knots=[0, 0, 0, 1, 1, 1], degree=2))
            add(Edge.make_bspline(
                [(828.6596650626, -59.2421123971), (815.8262838454, -50.7306258854), (776.4000198998, -31.9436142066)],
                knots=[0, 0, 0, 1, 1, 1], degree=2))
            add(Edge.make_bspline(
                [(848.1081912372, -77.0148018491), (841.4930462798, -67.7535989089), (828.6596650626, -59.2421123971)],
                knots=[0, 0, 0, 1, 1, 1], degree=2))
            add(Edge.make_bspline(
                [(854.7233361945, -98.0950637798), (854.7233361945, -86.2760047894), (848.1081912372, -77.0148018491)],
                knots=[0, 0, 0, 1, 1, 1], degree=2))
            add(Edge.make_bspline(
                [(839.6849066582, -130.0682644069), (854.7233361945, -119.351729576), (854.7233361945, -98.0950637798)],
                knots=[0, 0, 0, 1, 1, 1], degree=2))
            add(Edge.make_bspline(
                [(796.5982625028, -140.7847992377), (824.6464771219, -140.7847992377), (839.6849066582, -130.0682644069)],
                knots=[0, 0, 0, 1, 1, 1], degree=2))
            add(Edge.make_bspline(
                [(744.8678289365, -133.3758368855), (773.1365483875, -140.7847992377), (796.5982625028, -140.7847992377)],
                knots=[0, 0, 0, 1, 1, 1], degree=2))
            add(Edge.make_bspline(
                [(675.8498165485, -107.7090744511), (716.5991094856, -125.9668745333), (744.8678289365, -133.3758368855)],
                knots=[0, 0, 0, 1, 1, 1], degree=2))
            Line((675.8498165485, -107.7090744511), (675.8498165485, -187.090813939))
            add(Edge.make_bspline(
                [(789.9831175455, -211.4345473819), (725.419302762, -211.4345473819), (675.8498165485, -187.090813939)],
                knots=[0, 0, 0, 1, 1, 1], degree=2))
            add(Edge.make_bspline(
                [(899.2212112741, -179.9905583515), (859.9272502276, -211.4345473819), (789.9831175455, -211.4345473819)],
                knots=[0, 0, 0, 1, 1, 1], degree=2))
        make_face()
    extrude(amount=F3_DEPTH)


solid = Compound([f1.part, f2.part, f3.part])
